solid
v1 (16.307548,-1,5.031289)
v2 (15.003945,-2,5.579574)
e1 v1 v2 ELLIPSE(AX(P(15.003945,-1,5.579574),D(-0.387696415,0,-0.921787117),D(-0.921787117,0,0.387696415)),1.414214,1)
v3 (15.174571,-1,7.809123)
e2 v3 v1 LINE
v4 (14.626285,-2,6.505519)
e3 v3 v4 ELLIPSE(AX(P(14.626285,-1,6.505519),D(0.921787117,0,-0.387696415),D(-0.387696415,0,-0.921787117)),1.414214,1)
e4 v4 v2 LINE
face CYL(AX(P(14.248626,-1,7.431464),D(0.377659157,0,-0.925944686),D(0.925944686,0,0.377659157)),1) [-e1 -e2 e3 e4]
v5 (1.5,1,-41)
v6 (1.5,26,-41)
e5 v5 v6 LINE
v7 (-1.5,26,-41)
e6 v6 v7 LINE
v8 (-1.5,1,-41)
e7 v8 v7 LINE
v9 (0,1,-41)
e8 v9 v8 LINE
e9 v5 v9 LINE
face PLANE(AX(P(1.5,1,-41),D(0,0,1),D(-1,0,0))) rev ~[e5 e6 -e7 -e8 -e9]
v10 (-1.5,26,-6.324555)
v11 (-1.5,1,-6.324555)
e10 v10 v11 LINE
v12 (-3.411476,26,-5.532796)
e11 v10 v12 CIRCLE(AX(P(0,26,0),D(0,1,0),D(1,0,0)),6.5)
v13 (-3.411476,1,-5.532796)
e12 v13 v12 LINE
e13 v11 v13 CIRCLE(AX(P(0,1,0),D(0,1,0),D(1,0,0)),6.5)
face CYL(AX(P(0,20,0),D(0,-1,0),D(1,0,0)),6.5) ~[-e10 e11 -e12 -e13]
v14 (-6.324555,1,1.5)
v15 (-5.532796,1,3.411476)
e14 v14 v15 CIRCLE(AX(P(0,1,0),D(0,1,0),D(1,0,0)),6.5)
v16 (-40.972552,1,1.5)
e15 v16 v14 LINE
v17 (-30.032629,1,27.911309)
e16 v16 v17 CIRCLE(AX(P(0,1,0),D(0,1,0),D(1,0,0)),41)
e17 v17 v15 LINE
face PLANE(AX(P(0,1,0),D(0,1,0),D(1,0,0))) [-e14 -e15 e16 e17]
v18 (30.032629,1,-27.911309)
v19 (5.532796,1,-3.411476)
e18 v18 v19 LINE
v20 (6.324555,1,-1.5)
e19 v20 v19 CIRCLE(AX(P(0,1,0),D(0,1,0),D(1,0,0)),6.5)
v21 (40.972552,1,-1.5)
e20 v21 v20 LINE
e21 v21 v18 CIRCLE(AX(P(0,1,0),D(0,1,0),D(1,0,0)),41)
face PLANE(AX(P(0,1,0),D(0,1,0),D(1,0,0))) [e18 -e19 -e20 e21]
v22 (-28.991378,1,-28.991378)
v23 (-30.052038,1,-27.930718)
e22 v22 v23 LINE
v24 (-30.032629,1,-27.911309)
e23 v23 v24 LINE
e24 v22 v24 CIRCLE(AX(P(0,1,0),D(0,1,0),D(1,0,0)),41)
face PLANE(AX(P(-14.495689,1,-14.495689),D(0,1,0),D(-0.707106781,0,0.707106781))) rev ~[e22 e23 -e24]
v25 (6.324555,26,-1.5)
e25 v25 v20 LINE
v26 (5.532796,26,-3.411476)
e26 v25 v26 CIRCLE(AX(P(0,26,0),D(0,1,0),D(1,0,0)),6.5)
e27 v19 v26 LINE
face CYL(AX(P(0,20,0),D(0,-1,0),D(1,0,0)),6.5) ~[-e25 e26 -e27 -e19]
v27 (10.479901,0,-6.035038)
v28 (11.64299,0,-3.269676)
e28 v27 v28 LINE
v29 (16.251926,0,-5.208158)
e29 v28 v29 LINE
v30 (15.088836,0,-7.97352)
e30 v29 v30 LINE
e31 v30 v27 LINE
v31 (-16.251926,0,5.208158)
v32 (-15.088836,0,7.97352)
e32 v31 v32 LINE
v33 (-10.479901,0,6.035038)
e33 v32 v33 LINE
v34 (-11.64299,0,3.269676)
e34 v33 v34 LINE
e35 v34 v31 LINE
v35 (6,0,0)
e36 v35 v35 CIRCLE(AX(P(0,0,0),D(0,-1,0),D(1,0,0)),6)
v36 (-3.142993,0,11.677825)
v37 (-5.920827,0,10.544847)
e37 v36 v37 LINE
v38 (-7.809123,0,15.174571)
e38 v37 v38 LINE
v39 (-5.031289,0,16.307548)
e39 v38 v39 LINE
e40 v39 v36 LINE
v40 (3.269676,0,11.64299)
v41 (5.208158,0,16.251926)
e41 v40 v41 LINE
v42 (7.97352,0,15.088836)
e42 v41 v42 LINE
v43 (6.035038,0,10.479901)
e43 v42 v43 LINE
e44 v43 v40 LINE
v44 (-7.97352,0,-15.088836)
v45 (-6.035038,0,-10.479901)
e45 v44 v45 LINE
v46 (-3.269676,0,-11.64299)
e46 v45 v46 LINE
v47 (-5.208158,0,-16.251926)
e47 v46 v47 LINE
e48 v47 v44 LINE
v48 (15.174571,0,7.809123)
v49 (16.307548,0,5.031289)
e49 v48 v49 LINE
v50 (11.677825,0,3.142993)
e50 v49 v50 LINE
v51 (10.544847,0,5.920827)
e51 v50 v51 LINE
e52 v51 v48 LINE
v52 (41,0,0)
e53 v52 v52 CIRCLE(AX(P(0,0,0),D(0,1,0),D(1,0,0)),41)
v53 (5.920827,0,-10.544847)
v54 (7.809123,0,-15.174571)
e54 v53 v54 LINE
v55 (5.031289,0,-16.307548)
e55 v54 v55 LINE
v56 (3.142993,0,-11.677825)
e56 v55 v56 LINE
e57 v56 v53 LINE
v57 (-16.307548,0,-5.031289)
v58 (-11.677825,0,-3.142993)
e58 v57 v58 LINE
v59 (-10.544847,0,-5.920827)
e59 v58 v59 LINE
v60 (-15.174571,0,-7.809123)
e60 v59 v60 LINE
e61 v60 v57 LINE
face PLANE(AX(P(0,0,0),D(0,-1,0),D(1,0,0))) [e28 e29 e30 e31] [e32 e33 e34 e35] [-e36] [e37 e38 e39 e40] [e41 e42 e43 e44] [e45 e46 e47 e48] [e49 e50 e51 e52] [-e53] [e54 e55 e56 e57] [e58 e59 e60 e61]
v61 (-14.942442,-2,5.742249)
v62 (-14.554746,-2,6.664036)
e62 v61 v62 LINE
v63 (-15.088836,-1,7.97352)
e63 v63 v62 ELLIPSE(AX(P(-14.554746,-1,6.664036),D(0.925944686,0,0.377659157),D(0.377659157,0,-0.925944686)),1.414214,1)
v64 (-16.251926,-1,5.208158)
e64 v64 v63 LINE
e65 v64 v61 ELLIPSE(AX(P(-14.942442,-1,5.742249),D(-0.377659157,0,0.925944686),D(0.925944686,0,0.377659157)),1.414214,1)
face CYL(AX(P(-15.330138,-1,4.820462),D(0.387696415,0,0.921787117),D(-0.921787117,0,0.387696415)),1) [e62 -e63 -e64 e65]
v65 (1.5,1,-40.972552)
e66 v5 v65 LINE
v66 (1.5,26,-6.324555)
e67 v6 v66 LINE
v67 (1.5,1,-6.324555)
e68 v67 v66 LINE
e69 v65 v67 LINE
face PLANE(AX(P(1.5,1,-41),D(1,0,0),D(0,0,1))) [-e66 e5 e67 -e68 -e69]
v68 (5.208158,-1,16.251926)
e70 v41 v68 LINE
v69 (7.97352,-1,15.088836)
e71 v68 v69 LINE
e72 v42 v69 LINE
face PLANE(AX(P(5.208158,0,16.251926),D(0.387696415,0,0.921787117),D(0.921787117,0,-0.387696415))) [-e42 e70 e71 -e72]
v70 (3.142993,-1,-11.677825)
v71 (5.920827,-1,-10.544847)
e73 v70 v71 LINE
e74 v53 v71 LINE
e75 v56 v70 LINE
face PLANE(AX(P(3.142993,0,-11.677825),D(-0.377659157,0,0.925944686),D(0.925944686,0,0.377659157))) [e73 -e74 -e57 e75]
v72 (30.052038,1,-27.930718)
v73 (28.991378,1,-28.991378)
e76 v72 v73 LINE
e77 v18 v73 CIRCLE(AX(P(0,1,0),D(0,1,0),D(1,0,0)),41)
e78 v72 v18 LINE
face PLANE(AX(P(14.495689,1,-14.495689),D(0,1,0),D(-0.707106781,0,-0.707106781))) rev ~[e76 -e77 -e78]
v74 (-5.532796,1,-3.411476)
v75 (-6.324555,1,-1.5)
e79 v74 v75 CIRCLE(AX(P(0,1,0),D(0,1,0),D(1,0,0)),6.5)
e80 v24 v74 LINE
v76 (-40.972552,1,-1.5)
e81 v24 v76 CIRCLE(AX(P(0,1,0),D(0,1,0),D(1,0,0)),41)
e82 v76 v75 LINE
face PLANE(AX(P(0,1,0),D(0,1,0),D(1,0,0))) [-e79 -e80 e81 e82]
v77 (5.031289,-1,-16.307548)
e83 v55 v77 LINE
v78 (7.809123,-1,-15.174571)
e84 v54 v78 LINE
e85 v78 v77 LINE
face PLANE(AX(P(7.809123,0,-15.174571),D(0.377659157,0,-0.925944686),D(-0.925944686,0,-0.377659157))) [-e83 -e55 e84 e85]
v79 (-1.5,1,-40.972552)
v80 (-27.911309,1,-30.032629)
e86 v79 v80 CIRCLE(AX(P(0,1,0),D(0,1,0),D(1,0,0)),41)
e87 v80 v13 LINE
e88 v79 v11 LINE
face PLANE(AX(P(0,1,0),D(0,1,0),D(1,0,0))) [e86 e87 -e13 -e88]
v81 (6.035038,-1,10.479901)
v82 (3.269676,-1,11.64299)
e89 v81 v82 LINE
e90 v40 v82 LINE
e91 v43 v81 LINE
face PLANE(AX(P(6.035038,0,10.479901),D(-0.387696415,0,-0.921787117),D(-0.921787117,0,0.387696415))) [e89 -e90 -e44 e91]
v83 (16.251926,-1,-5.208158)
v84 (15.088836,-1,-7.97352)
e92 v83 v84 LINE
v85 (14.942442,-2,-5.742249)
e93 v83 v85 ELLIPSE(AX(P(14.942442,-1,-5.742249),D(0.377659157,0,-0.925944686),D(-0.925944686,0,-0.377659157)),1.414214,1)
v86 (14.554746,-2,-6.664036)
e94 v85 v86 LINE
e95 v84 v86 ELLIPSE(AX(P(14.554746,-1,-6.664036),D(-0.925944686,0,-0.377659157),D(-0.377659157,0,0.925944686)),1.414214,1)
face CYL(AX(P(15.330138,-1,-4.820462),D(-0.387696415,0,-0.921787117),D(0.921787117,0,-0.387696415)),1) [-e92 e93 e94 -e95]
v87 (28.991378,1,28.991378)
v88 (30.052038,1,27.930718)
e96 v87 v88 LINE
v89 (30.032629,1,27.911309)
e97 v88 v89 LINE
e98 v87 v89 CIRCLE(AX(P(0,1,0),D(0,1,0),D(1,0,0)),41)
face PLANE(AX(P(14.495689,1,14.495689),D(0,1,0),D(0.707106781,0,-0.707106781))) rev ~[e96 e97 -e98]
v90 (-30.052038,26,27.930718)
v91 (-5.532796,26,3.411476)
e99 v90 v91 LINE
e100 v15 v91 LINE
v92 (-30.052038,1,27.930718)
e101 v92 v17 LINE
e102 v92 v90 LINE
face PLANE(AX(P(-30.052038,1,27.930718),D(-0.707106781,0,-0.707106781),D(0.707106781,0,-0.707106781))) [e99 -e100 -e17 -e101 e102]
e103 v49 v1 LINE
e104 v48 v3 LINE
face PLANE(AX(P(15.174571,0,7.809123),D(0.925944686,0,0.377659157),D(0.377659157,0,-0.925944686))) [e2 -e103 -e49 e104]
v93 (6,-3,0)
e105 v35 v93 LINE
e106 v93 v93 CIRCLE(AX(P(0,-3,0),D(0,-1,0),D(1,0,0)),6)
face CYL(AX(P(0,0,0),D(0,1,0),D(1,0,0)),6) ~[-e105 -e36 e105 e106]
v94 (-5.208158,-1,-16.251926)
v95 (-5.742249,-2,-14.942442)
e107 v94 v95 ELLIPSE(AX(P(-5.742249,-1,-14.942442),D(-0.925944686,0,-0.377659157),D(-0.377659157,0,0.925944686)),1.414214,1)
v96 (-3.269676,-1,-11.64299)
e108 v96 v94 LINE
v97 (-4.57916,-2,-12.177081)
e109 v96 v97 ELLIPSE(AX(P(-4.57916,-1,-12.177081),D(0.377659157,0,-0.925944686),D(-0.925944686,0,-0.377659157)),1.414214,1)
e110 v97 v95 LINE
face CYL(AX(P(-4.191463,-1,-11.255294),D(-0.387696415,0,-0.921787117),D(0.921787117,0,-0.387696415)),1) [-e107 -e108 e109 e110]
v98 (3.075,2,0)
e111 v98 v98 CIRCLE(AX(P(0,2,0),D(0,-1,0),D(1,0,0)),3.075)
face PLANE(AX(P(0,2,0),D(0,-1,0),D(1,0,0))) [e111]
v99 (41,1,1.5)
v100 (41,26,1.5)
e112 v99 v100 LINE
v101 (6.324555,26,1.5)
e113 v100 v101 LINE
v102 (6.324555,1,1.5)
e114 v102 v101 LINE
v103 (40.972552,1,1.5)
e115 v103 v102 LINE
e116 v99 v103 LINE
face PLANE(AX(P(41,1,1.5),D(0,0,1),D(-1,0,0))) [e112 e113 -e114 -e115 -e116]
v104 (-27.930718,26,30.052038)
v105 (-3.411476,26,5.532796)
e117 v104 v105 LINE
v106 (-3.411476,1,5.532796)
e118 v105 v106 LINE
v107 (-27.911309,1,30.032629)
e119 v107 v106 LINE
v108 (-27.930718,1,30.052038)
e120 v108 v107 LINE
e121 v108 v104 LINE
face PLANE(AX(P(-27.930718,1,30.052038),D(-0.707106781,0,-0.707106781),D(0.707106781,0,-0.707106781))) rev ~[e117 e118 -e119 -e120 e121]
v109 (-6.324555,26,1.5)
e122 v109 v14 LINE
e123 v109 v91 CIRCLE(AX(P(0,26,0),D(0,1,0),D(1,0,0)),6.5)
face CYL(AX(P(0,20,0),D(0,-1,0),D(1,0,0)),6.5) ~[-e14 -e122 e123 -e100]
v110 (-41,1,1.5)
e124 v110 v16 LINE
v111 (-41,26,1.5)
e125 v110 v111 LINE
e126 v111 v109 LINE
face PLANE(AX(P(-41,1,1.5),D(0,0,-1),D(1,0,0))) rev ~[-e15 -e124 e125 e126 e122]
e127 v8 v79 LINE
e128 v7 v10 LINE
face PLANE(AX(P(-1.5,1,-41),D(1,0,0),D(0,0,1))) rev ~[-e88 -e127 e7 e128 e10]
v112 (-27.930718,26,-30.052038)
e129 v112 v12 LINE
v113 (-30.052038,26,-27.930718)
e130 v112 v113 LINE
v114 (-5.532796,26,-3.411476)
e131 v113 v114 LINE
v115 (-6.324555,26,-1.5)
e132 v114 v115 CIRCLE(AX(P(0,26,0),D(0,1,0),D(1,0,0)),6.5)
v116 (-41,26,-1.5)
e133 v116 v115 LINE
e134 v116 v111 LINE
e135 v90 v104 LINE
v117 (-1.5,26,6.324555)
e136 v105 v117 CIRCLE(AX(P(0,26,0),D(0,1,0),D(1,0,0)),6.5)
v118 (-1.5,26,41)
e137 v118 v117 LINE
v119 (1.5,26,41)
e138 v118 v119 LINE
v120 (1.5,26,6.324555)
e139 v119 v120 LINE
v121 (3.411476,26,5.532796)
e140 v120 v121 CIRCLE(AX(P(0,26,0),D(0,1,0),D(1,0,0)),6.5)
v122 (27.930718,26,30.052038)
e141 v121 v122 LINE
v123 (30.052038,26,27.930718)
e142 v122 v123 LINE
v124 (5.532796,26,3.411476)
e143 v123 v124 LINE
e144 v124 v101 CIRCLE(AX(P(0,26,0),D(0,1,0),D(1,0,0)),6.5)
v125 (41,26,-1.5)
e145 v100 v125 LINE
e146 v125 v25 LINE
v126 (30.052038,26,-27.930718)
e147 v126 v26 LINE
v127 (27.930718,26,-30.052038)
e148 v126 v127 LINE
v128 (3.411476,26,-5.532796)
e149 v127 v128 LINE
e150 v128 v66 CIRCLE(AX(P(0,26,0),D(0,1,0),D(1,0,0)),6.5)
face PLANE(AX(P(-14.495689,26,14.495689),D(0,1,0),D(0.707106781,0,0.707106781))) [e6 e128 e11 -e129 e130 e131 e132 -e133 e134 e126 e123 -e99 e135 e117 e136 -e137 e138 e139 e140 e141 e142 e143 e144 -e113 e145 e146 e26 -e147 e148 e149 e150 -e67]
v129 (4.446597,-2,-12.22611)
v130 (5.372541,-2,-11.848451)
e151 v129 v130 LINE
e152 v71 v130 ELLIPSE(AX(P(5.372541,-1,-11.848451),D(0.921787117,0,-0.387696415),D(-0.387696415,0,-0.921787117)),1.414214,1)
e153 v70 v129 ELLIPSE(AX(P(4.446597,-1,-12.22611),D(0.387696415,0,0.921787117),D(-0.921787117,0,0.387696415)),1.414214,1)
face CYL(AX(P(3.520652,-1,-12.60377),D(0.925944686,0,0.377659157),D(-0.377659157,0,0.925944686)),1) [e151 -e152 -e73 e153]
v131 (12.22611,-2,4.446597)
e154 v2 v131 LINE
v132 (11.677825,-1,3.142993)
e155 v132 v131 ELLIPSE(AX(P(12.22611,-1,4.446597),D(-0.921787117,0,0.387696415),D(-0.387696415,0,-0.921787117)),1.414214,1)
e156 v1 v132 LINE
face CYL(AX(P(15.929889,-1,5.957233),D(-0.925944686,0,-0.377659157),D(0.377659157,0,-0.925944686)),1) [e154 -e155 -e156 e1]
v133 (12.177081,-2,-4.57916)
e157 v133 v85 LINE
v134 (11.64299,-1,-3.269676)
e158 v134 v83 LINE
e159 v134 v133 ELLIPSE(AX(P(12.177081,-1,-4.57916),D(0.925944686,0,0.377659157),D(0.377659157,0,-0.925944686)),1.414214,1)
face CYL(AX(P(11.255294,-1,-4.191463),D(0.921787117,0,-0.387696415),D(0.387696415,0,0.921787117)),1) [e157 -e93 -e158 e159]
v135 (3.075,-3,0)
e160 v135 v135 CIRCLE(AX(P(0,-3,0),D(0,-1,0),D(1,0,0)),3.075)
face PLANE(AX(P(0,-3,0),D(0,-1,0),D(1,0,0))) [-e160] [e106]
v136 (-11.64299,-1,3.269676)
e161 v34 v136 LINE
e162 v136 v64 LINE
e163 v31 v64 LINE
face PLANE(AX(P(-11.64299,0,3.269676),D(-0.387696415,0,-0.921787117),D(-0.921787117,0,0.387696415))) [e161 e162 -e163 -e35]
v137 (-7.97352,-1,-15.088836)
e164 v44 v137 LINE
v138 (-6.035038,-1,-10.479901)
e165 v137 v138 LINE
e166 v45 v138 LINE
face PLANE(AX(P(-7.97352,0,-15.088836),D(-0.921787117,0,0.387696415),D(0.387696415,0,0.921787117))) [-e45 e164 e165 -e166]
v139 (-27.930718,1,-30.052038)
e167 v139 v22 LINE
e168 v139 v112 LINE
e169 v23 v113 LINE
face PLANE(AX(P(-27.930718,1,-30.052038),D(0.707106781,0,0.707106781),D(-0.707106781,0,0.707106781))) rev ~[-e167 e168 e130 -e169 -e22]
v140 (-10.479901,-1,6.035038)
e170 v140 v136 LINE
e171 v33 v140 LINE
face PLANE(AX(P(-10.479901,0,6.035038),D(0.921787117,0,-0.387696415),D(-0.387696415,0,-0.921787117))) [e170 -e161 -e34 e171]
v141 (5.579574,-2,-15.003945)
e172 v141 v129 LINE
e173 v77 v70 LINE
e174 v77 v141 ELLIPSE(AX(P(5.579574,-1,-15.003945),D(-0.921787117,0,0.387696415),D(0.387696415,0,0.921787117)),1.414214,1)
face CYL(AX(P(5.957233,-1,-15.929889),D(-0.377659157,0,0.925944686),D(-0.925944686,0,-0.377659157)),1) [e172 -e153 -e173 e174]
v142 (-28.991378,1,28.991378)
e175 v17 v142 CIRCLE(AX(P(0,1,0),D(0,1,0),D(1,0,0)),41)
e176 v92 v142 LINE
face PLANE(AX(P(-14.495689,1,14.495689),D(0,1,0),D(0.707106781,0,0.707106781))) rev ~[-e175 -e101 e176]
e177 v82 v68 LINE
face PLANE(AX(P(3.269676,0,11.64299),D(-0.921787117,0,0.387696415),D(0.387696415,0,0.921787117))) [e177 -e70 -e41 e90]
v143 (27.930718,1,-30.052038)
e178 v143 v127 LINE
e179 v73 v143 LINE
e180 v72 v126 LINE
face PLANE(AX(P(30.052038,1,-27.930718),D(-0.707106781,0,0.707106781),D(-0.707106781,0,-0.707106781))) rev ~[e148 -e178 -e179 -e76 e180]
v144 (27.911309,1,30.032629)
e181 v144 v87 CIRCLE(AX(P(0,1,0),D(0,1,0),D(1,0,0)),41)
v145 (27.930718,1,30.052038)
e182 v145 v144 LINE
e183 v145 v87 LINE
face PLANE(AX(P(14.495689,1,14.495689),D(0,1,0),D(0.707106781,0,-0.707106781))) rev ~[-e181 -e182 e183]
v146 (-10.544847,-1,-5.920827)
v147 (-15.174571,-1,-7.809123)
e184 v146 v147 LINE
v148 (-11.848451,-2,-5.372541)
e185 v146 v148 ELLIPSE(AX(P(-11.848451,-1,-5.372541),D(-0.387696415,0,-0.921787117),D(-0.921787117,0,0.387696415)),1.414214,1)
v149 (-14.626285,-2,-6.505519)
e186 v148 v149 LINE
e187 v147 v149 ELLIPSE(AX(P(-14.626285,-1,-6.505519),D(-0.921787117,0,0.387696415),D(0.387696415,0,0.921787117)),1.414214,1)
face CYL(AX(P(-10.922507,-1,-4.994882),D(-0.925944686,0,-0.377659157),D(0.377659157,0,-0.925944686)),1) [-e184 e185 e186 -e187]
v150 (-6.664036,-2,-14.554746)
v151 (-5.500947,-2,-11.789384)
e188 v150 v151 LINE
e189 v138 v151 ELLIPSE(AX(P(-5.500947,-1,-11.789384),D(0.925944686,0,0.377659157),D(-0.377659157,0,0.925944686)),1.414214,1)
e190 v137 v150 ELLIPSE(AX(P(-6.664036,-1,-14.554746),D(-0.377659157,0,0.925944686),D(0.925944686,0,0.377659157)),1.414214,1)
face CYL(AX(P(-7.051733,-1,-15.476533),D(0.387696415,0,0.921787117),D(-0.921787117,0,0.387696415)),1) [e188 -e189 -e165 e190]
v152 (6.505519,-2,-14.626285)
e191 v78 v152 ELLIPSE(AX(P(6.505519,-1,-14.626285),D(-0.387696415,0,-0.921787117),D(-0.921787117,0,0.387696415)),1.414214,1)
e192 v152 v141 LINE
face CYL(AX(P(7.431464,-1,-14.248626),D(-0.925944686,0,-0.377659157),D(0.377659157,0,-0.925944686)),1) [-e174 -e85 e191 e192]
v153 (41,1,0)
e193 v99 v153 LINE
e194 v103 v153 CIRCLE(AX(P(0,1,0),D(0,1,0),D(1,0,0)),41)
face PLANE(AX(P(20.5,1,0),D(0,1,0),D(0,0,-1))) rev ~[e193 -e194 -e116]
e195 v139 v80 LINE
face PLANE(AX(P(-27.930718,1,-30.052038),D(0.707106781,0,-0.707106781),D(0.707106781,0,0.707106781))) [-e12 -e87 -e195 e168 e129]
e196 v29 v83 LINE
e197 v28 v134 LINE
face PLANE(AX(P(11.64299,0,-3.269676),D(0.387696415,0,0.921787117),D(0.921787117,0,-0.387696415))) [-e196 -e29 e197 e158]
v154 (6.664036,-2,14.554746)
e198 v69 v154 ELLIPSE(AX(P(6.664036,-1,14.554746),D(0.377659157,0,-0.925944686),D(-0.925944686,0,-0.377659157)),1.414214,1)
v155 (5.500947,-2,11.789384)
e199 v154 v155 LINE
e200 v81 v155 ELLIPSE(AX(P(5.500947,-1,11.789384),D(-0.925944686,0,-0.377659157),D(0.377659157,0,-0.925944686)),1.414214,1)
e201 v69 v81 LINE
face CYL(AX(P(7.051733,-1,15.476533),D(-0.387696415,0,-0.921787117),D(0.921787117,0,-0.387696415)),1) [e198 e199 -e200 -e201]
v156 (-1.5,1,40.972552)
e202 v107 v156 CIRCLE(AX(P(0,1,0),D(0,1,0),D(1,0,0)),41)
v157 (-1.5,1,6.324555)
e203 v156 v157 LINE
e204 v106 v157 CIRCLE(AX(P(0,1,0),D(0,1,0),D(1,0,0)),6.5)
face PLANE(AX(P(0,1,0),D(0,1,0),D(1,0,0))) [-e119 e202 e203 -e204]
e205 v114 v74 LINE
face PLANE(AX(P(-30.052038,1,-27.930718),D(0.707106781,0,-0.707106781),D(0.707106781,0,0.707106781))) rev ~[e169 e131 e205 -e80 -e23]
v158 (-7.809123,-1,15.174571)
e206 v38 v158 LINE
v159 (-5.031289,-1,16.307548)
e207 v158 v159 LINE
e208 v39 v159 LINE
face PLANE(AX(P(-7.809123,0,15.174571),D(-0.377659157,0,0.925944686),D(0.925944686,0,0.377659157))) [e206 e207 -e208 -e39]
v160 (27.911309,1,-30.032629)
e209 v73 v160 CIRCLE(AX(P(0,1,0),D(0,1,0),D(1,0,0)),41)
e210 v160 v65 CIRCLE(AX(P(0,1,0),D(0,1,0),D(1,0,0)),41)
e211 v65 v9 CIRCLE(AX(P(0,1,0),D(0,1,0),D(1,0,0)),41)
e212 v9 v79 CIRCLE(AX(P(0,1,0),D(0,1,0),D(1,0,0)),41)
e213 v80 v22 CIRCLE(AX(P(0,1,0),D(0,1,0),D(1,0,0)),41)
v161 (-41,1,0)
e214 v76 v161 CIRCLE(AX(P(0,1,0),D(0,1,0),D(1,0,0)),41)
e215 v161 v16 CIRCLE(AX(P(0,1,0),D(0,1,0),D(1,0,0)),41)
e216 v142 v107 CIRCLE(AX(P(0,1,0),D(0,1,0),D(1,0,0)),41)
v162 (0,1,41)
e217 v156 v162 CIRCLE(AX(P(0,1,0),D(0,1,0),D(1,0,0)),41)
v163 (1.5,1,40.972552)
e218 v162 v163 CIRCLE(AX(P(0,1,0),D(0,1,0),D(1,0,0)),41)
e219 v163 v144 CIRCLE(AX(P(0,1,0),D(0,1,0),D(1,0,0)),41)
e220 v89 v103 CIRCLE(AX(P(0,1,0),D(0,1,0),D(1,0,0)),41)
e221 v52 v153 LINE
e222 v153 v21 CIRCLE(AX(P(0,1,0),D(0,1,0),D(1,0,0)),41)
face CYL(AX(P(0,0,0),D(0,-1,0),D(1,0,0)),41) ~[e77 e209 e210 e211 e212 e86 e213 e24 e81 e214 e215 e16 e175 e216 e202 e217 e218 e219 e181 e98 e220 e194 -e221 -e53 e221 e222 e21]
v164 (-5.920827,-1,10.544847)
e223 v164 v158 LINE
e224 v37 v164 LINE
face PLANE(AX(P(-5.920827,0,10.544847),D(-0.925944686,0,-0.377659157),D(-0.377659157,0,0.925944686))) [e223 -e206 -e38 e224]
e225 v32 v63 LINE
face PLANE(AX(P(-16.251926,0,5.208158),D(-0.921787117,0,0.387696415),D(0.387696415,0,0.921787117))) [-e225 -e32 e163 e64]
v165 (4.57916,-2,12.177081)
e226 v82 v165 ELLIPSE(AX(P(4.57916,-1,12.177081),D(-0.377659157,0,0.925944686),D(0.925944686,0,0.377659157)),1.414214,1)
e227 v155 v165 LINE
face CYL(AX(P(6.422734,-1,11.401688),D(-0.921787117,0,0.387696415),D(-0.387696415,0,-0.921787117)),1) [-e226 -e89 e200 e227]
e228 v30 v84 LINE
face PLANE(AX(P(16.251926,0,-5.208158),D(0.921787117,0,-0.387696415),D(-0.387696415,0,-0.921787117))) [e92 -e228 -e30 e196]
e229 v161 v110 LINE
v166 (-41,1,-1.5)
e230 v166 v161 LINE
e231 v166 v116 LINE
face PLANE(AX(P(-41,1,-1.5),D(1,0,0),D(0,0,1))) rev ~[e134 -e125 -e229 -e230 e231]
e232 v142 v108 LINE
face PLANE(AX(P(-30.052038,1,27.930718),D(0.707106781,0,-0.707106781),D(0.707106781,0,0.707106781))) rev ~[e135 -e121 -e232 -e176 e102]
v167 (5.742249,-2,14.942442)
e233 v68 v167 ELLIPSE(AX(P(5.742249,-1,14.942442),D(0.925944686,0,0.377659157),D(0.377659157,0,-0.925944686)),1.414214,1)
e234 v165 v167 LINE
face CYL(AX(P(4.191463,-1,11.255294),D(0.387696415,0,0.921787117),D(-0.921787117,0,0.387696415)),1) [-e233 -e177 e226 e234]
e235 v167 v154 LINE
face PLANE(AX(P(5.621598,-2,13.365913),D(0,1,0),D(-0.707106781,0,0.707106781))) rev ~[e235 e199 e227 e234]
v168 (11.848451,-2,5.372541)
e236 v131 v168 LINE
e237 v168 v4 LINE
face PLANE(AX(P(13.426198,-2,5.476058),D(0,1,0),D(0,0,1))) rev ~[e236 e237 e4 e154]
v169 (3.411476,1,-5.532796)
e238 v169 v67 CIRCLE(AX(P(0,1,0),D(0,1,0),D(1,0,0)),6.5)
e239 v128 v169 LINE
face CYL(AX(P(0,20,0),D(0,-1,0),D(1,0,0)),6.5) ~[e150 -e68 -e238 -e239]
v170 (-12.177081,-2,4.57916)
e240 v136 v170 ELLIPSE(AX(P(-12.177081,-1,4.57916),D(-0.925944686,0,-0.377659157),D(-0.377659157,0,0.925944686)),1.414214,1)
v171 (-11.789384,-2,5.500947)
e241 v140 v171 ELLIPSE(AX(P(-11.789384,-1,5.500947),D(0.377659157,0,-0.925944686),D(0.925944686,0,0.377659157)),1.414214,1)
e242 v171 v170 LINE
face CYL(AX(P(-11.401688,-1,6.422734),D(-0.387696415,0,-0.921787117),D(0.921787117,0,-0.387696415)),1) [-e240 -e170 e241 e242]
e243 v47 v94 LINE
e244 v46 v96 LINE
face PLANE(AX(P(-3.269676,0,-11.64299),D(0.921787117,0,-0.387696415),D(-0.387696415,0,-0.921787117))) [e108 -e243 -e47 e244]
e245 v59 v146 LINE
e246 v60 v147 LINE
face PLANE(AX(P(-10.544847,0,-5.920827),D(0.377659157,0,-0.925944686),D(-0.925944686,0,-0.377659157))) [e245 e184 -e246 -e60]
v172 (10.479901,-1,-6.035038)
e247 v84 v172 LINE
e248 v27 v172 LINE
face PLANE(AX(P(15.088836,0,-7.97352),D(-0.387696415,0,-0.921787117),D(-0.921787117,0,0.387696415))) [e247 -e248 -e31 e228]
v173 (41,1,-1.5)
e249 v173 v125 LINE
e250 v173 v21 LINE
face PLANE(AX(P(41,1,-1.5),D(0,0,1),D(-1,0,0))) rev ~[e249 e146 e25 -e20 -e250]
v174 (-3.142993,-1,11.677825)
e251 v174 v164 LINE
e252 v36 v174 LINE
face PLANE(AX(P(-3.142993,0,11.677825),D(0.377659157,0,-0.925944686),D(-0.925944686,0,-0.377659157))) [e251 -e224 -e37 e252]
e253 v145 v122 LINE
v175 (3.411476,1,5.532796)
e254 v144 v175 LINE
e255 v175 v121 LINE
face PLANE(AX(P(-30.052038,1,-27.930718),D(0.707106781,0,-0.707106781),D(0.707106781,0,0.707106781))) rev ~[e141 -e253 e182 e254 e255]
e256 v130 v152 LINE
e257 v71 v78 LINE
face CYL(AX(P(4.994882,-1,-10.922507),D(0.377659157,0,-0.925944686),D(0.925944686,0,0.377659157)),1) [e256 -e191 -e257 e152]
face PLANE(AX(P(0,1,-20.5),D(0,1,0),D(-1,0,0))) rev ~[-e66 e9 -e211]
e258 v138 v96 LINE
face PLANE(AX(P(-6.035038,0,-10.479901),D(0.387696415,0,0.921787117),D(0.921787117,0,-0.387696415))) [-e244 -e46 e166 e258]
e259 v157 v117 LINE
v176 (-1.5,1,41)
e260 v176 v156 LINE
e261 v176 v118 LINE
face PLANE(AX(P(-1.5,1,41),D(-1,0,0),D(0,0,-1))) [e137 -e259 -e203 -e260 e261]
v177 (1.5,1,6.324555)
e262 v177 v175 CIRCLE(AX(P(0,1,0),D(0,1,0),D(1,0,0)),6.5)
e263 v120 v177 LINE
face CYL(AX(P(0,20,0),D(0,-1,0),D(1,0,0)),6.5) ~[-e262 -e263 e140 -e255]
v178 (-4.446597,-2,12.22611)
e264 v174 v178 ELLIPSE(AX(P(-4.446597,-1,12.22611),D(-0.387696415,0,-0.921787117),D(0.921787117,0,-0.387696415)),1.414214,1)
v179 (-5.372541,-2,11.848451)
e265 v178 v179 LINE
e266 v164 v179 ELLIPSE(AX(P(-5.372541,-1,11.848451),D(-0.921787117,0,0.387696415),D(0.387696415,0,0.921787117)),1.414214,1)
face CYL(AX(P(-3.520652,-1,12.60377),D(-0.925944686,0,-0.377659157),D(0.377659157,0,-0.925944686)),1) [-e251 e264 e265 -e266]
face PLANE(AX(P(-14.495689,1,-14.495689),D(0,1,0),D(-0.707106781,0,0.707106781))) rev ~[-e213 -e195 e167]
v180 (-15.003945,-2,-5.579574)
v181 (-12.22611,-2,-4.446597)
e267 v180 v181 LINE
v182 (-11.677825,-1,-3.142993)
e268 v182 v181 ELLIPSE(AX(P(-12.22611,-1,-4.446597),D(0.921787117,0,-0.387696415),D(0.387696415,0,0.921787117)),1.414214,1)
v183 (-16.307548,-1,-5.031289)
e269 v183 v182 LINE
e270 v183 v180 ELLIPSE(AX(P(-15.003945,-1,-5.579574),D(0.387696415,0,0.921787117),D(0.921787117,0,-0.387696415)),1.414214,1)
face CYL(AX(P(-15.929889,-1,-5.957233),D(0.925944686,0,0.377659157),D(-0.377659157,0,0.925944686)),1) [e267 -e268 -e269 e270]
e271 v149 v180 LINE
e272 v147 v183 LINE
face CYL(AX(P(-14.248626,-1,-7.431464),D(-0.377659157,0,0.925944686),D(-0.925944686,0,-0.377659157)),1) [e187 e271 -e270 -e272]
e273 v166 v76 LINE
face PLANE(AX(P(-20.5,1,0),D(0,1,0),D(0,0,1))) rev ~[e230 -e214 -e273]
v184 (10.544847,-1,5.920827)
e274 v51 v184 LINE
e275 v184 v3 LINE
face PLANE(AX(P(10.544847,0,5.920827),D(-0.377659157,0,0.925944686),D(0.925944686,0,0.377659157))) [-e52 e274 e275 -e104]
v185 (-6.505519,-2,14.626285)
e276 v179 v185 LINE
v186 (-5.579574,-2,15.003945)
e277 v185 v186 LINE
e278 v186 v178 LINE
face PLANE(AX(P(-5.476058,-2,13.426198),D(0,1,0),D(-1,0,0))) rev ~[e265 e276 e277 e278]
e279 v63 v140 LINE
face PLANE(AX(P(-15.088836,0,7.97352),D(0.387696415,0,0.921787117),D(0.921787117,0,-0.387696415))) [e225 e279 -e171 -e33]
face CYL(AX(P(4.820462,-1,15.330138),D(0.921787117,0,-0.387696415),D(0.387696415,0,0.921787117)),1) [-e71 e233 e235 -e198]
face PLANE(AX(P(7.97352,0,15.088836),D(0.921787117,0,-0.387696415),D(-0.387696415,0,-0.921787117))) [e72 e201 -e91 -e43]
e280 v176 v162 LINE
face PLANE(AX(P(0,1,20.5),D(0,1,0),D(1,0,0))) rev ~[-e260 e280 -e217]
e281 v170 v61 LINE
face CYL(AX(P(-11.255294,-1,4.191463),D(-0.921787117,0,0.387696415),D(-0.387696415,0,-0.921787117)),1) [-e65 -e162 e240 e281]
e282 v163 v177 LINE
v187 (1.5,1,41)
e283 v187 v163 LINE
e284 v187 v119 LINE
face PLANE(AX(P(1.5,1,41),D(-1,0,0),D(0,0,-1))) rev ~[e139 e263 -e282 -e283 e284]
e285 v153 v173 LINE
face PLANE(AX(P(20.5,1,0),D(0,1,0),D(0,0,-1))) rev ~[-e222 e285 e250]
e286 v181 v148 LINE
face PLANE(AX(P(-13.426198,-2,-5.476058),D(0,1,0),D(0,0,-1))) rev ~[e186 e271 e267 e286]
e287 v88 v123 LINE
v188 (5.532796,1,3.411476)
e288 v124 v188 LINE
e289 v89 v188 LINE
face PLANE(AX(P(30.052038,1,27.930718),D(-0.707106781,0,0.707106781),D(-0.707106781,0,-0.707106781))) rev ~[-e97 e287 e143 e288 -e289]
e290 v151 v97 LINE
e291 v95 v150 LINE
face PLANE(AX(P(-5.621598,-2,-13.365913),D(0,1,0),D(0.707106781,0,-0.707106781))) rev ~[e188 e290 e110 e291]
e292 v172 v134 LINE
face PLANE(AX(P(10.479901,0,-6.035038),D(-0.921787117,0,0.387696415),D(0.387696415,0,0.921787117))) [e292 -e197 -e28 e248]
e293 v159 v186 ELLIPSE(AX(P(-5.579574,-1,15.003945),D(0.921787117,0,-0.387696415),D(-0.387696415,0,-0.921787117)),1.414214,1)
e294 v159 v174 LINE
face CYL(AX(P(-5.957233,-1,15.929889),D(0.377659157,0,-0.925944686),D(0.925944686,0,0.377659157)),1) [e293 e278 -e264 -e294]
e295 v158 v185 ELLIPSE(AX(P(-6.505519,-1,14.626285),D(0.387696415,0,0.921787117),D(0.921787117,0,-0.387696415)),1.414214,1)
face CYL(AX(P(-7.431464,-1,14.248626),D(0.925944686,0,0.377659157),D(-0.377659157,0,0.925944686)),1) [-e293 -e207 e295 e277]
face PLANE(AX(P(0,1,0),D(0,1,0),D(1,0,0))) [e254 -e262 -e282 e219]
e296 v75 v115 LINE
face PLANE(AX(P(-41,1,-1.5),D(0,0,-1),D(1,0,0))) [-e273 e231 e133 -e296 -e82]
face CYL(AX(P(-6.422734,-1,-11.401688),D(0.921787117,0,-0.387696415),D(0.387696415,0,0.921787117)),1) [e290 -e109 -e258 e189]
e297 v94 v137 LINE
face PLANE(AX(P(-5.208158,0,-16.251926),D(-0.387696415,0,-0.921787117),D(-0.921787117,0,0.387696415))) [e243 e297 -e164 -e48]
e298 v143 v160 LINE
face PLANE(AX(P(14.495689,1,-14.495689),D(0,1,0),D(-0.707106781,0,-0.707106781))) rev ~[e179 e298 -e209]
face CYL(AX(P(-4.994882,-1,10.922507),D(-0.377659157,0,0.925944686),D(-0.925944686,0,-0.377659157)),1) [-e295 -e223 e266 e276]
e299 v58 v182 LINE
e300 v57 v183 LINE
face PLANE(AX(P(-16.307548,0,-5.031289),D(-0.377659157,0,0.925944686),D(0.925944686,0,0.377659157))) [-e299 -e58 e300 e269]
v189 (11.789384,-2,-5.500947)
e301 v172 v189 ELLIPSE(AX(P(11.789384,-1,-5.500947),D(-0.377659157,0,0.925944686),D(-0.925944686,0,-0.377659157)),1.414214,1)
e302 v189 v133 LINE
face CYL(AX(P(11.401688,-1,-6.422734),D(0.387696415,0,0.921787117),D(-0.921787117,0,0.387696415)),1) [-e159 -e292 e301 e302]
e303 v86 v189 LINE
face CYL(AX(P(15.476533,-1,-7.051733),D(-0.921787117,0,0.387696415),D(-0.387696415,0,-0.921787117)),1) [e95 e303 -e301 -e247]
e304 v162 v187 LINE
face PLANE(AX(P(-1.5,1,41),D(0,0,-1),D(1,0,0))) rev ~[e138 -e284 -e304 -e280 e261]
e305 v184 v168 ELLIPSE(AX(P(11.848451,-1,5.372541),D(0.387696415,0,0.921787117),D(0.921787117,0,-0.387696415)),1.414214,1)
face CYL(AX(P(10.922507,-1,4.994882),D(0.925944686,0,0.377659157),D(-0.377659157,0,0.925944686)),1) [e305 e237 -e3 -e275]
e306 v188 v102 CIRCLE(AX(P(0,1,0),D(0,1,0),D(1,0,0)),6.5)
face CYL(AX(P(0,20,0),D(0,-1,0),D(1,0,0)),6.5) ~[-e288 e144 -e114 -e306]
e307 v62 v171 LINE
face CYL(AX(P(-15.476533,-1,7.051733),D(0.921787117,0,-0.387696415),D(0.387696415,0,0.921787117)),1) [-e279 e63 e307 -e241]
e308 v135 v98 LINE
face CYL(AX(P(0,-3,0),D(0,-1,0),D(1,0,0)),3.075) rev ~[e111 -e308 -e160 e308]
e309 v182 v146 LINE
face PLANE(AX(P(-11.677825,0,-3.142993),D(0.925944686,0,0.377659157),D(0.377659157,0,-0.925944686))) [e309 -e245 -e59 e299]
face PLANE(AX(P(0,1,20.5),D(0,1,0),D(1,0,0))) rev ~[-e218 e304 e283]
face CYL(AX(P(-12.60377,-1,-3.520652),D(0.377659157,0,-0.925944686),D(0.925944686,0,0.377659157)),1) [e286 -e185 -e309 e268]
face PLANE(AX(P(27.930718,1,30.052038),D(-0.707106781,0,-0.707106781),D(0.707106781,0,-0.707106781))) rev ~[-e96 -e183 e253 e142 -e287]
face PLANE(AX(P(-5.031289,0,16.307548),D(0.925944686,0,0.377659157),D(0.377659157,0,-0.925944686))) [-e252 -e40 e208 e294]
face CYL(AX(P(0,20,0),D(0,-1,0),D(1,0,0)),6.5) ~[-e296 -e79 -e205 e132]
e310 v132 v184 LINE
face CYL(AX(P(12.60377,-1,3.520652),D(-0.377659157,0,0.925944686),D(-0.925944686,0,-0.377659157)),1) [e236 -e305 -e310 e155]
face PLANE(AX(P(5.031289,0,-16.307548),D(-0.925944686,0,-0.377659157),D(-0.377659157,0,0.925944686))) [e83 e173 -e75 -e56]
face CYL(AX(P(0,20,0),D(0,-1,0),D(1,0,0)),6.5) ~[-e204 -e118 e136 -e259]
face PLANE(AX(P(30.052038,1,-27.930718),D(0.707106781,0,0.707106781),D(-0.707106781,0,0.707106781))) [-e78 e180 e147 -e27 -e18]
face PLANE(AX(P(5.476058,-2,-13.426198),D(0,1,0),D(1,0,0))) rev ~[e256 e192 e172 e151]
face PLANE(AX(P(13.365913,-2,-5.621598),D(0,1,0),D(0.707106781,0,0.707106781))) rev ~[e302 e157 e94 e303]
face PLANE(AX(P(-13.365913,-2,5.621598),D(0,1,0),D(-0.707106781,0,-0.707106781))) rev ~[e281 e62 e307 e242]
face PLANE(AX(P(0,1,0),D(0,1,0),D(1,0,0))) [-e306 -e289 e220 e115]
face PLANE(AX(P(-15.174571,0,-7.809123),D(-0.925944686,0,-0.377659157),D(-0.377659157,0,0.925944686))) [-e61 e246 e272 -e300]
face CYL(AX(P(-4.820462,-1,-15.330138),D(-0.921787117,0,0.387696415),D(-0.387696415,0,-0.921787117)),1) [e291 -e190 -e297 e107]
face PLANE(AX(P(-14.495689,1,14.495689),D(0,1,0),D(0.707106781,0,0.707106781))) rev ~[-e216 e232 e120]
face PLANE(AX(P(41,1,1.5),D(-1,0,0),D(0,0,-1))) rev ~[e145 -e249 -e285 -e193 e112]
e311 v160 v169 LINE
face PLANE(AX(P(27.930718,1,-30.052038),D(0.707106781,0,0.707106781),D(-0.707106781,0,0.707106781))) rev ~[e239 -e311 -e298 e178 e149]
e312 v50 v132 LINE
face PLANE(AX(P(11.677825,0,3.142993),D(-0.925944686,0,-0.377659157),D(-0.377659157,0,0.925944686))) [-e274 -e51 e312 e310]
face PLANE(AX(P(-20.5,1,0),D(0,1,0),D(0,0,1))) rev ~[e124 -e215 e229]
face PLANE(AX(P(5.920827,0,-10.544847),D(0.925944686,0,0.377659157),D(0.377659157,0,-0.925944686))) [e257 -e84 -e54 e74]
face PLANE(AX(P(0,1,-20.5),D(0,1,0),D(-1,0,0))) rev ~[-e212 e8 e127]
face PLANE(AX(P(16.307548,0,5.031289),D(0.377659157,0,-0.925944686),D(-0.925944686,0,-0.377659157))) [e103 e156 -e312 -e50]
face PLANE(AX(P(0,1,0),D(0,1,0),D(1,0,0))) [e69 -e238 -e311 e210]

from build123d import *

# Parameters (mm, degrees)
SKETCH1_R            = 41
BOSS_EXTRUDE1_DEPTH  = 1
SKETCH6_W            = 3
SKETCH6_H            = 41
BOSS_EXTRUDE7_DEPTH  = 25
SKETCH7_R            = 6
BOSS_EXTRUDE8_DEPTH  = 24
SKETCH9_R            = 6
CUT_EXTRUDE3_DEPTH   = 5
CIRPATTERN1_COUNT    = 8
SKETCH11_R           = 6
CUT_EXTRUDE5_DEPTH   = 6
BOSS_EXTRUDE9_DEPTH  = 2
CIRPATTERN2_COUNT    = 8
FILLET1_R            = 1
SKETCH13_R           = 6.5
BOSS_EXTRUDE17_DEPTH = 6
SKETCH16_R           = 6.5
SKETCH16_R_2         = 6
BOSS_EXTRUDE18_DEPTH = 25
SKETCH15_R           = 6
BOSS_EXTRUDE19_DEPTH = 3
SKETCH17_R           = 3.075
CUT_EXTRUDE10_DEPTH  = 5


with BuildPart() as part:
    # Sketch1 → Boss-Extrude1 (new body)
    with BuildSketch(Plane(origin=(0, 0, 0), x_dir=(1, 0, 0), z_dir=(0, 1, 0))):
        Circle(SKETCH1_R)
    extrude(amount=BOSS_EXTRUDE1_DEPTH)

    # Sketch6 → Boss-Extrude7 (add)
    with BuildSketch(Plane(origin=(0, 1, 0), x_dir=(1, 0, 0), z_dir=(0, 1, 0))):
        with Locations((0, -20.5)):
            Rectangle(SKETCH6_W, SKETCH6_H)
    boss_extrude7 = extrude(amount=BOSS_EXTRUDE7_DEPTH)

    # Sketch7 → Boss-Extrude8 (add)
    with BuildSketch(Plane.XZ):
        Circle(SKETCH7_R)
    extrude(amount=-BOSS_EXTRUDE8_DEPTH)

    # Sketch9 → Cut-Extrude3 (cut)
    with BuildSketch(Plane(origin=(0, 26, 0), x_dir=(1, 0, 0), z_dir=(0, 1, 0))):
        Circle(SKETCH9_R)
    extrude(amount=-CUT_EXTRUDE3_DEPTH, mode=Mode.SUBTRACT)

    # CirPattern1: Boss-Extrude7 ×8 about axis
    cirpattern1_axis = Axis((0, 0, 0), (0, 1, 0))
    for i in range(1, CIRPATTERN1_COUNT):
        add(boss_extrude7.rotate(cirpattern1_axis, i * 360 / CIRPATTERN1_COUNT))

    # Sketch11 → Cut-Extrude5 (cut)
    with BuildSketch(Plane(origin=(0, 26, 0), x_dir=(1, 0, 0), z_dir=(0, 1, 0))):
        Circle(SKETCH11_R)
    extrude(amount=-CUT_EXTRUDE5_DEPTH, mode=Mode.SUBTRACT)

    # Sketch10 → Boss-Extrude9 (add)
    with BuildSketch(Plane(origin=(0, 0, 0), x_dir=(-1, 0, 0), z_dir=(0, -1, 0))):
        Polygon((-3.142992858, 11.677824964), (-5.920826915, 10.544847493), (-7.809122701, 15.174570921), (-5.031288644, 16.307548393), align=None)
    boss_extrude9 = extrude(amount=BOSS_EXTRUDE9_DEPTH)

    # CirPattern2: Boss-Extrude9 ×8 about axis
    cirpattern2_axis = Axis((0, 0, 0), (0, 1, 0))
    for i in range(1, CIRPATTERN2_COUNT):
        add(boss_extrude9.rotate(cirpattern2_axis, i * 360 / CIRPATTERN2_COUNT))

    # Fillet1
    fillet1_edges = [part.edges().sort_by_distance(p)[0] for p in [
        (4.087140751, -2, -13.992686678),
        (6.420205673, -2, -15.741059657),
        (6.864974808, -2, -12.859709207),
        (4.531909887, -2, -11.111336228),
        (-7.004278697, -2, -12.784368578),
        (-6.590839059, -2, -15.670380994),
        (-4.238917345, -2, -13.947457824),
        (-4.652356983, -2, -11.061445408),
        (-13.992686678, -2, -4.087140751),
        (-15.741059657, -2, -6.420205673),
        (-12.859709207, -2, -6.864974808),
        (-11.111336228, -2, -4.531909887),
        (-12.784368578, -2, 7.004278697),
        (-15.670380994, -2, 6.590839059),
        (-13.947457824, -2, 4.238917345),
        (-11.061445408, -2, 4.652356983),
        (-4.087140751, -2, 13.992686678),
        (-6.420205673, -2, 15.741059657),
        (-6.864974808, -2, 12.859709207),
        (-4.531909887, -2, 11.111336228),
        (7.004278697, -2, 12.784368578),
        (6.590839059, -2, 15.670380994),
        (4.238917345, -2, 13.947457824),
        (4.652356983, -2, 11.061445408),
        (13.992686678, -2, 4.087140751),
        (15.741059657, -2, 6.420205673),
        (12.859709207, -2, 6.864974808),
        (11.111336228, -2, 4.531909887),
        (12.784368578, -2, -7.004278697),
        (15.670380994, -2, -6.590839059),
        (13.947457824, -2, -4.238917345),
        (11.061445408, -2, -4.652356983),
    ]]
    fillet(fillet1_edges, radius=FILLET1_R)

    # Sketch13 → Boss-Extrude17 (add)
    with BuildSketch(Plane(origin=(0, 20, 0), x_dir=(1, 0, 0), z_dir=(0, 1, 0))):
        Circle(SKETCH13_R)
    extrude(amount=BOSS_EXTRUDE17_DEPTH)

    # Sketch16 → Boss-Extrude18 (add)
    with BuildSketch(Plane(origin=(0, 26, 0), x_dir=(1, 0, 0), z_dir=(0, 1, 0))):
        Circle(SKETCH16_R)
        Circle(SKETCH16_R_2, mode=Mode.SUBTRACT)
    extrude(amount=-BOSS_EXTRUDE18_DEPTH)

    # Sketch15 → Boss-Extrude19 (add)
    with BuildSketch(Plane.XZ):
        Circle(SKETCH15_R)
    extrude(amount=BOSS_EXTRUDE19_DEPTH)

    # Sketch17 → Cut-Extrude10 (cut)
    with BuildSketch(Plane.XZ.offset(3)):
        Circle(SKETCH17_R)
    extrude(amount=-CUT_EXTRUDE10_DEPTH, mode=Mode.SUBTRACT)


solid = part.part
